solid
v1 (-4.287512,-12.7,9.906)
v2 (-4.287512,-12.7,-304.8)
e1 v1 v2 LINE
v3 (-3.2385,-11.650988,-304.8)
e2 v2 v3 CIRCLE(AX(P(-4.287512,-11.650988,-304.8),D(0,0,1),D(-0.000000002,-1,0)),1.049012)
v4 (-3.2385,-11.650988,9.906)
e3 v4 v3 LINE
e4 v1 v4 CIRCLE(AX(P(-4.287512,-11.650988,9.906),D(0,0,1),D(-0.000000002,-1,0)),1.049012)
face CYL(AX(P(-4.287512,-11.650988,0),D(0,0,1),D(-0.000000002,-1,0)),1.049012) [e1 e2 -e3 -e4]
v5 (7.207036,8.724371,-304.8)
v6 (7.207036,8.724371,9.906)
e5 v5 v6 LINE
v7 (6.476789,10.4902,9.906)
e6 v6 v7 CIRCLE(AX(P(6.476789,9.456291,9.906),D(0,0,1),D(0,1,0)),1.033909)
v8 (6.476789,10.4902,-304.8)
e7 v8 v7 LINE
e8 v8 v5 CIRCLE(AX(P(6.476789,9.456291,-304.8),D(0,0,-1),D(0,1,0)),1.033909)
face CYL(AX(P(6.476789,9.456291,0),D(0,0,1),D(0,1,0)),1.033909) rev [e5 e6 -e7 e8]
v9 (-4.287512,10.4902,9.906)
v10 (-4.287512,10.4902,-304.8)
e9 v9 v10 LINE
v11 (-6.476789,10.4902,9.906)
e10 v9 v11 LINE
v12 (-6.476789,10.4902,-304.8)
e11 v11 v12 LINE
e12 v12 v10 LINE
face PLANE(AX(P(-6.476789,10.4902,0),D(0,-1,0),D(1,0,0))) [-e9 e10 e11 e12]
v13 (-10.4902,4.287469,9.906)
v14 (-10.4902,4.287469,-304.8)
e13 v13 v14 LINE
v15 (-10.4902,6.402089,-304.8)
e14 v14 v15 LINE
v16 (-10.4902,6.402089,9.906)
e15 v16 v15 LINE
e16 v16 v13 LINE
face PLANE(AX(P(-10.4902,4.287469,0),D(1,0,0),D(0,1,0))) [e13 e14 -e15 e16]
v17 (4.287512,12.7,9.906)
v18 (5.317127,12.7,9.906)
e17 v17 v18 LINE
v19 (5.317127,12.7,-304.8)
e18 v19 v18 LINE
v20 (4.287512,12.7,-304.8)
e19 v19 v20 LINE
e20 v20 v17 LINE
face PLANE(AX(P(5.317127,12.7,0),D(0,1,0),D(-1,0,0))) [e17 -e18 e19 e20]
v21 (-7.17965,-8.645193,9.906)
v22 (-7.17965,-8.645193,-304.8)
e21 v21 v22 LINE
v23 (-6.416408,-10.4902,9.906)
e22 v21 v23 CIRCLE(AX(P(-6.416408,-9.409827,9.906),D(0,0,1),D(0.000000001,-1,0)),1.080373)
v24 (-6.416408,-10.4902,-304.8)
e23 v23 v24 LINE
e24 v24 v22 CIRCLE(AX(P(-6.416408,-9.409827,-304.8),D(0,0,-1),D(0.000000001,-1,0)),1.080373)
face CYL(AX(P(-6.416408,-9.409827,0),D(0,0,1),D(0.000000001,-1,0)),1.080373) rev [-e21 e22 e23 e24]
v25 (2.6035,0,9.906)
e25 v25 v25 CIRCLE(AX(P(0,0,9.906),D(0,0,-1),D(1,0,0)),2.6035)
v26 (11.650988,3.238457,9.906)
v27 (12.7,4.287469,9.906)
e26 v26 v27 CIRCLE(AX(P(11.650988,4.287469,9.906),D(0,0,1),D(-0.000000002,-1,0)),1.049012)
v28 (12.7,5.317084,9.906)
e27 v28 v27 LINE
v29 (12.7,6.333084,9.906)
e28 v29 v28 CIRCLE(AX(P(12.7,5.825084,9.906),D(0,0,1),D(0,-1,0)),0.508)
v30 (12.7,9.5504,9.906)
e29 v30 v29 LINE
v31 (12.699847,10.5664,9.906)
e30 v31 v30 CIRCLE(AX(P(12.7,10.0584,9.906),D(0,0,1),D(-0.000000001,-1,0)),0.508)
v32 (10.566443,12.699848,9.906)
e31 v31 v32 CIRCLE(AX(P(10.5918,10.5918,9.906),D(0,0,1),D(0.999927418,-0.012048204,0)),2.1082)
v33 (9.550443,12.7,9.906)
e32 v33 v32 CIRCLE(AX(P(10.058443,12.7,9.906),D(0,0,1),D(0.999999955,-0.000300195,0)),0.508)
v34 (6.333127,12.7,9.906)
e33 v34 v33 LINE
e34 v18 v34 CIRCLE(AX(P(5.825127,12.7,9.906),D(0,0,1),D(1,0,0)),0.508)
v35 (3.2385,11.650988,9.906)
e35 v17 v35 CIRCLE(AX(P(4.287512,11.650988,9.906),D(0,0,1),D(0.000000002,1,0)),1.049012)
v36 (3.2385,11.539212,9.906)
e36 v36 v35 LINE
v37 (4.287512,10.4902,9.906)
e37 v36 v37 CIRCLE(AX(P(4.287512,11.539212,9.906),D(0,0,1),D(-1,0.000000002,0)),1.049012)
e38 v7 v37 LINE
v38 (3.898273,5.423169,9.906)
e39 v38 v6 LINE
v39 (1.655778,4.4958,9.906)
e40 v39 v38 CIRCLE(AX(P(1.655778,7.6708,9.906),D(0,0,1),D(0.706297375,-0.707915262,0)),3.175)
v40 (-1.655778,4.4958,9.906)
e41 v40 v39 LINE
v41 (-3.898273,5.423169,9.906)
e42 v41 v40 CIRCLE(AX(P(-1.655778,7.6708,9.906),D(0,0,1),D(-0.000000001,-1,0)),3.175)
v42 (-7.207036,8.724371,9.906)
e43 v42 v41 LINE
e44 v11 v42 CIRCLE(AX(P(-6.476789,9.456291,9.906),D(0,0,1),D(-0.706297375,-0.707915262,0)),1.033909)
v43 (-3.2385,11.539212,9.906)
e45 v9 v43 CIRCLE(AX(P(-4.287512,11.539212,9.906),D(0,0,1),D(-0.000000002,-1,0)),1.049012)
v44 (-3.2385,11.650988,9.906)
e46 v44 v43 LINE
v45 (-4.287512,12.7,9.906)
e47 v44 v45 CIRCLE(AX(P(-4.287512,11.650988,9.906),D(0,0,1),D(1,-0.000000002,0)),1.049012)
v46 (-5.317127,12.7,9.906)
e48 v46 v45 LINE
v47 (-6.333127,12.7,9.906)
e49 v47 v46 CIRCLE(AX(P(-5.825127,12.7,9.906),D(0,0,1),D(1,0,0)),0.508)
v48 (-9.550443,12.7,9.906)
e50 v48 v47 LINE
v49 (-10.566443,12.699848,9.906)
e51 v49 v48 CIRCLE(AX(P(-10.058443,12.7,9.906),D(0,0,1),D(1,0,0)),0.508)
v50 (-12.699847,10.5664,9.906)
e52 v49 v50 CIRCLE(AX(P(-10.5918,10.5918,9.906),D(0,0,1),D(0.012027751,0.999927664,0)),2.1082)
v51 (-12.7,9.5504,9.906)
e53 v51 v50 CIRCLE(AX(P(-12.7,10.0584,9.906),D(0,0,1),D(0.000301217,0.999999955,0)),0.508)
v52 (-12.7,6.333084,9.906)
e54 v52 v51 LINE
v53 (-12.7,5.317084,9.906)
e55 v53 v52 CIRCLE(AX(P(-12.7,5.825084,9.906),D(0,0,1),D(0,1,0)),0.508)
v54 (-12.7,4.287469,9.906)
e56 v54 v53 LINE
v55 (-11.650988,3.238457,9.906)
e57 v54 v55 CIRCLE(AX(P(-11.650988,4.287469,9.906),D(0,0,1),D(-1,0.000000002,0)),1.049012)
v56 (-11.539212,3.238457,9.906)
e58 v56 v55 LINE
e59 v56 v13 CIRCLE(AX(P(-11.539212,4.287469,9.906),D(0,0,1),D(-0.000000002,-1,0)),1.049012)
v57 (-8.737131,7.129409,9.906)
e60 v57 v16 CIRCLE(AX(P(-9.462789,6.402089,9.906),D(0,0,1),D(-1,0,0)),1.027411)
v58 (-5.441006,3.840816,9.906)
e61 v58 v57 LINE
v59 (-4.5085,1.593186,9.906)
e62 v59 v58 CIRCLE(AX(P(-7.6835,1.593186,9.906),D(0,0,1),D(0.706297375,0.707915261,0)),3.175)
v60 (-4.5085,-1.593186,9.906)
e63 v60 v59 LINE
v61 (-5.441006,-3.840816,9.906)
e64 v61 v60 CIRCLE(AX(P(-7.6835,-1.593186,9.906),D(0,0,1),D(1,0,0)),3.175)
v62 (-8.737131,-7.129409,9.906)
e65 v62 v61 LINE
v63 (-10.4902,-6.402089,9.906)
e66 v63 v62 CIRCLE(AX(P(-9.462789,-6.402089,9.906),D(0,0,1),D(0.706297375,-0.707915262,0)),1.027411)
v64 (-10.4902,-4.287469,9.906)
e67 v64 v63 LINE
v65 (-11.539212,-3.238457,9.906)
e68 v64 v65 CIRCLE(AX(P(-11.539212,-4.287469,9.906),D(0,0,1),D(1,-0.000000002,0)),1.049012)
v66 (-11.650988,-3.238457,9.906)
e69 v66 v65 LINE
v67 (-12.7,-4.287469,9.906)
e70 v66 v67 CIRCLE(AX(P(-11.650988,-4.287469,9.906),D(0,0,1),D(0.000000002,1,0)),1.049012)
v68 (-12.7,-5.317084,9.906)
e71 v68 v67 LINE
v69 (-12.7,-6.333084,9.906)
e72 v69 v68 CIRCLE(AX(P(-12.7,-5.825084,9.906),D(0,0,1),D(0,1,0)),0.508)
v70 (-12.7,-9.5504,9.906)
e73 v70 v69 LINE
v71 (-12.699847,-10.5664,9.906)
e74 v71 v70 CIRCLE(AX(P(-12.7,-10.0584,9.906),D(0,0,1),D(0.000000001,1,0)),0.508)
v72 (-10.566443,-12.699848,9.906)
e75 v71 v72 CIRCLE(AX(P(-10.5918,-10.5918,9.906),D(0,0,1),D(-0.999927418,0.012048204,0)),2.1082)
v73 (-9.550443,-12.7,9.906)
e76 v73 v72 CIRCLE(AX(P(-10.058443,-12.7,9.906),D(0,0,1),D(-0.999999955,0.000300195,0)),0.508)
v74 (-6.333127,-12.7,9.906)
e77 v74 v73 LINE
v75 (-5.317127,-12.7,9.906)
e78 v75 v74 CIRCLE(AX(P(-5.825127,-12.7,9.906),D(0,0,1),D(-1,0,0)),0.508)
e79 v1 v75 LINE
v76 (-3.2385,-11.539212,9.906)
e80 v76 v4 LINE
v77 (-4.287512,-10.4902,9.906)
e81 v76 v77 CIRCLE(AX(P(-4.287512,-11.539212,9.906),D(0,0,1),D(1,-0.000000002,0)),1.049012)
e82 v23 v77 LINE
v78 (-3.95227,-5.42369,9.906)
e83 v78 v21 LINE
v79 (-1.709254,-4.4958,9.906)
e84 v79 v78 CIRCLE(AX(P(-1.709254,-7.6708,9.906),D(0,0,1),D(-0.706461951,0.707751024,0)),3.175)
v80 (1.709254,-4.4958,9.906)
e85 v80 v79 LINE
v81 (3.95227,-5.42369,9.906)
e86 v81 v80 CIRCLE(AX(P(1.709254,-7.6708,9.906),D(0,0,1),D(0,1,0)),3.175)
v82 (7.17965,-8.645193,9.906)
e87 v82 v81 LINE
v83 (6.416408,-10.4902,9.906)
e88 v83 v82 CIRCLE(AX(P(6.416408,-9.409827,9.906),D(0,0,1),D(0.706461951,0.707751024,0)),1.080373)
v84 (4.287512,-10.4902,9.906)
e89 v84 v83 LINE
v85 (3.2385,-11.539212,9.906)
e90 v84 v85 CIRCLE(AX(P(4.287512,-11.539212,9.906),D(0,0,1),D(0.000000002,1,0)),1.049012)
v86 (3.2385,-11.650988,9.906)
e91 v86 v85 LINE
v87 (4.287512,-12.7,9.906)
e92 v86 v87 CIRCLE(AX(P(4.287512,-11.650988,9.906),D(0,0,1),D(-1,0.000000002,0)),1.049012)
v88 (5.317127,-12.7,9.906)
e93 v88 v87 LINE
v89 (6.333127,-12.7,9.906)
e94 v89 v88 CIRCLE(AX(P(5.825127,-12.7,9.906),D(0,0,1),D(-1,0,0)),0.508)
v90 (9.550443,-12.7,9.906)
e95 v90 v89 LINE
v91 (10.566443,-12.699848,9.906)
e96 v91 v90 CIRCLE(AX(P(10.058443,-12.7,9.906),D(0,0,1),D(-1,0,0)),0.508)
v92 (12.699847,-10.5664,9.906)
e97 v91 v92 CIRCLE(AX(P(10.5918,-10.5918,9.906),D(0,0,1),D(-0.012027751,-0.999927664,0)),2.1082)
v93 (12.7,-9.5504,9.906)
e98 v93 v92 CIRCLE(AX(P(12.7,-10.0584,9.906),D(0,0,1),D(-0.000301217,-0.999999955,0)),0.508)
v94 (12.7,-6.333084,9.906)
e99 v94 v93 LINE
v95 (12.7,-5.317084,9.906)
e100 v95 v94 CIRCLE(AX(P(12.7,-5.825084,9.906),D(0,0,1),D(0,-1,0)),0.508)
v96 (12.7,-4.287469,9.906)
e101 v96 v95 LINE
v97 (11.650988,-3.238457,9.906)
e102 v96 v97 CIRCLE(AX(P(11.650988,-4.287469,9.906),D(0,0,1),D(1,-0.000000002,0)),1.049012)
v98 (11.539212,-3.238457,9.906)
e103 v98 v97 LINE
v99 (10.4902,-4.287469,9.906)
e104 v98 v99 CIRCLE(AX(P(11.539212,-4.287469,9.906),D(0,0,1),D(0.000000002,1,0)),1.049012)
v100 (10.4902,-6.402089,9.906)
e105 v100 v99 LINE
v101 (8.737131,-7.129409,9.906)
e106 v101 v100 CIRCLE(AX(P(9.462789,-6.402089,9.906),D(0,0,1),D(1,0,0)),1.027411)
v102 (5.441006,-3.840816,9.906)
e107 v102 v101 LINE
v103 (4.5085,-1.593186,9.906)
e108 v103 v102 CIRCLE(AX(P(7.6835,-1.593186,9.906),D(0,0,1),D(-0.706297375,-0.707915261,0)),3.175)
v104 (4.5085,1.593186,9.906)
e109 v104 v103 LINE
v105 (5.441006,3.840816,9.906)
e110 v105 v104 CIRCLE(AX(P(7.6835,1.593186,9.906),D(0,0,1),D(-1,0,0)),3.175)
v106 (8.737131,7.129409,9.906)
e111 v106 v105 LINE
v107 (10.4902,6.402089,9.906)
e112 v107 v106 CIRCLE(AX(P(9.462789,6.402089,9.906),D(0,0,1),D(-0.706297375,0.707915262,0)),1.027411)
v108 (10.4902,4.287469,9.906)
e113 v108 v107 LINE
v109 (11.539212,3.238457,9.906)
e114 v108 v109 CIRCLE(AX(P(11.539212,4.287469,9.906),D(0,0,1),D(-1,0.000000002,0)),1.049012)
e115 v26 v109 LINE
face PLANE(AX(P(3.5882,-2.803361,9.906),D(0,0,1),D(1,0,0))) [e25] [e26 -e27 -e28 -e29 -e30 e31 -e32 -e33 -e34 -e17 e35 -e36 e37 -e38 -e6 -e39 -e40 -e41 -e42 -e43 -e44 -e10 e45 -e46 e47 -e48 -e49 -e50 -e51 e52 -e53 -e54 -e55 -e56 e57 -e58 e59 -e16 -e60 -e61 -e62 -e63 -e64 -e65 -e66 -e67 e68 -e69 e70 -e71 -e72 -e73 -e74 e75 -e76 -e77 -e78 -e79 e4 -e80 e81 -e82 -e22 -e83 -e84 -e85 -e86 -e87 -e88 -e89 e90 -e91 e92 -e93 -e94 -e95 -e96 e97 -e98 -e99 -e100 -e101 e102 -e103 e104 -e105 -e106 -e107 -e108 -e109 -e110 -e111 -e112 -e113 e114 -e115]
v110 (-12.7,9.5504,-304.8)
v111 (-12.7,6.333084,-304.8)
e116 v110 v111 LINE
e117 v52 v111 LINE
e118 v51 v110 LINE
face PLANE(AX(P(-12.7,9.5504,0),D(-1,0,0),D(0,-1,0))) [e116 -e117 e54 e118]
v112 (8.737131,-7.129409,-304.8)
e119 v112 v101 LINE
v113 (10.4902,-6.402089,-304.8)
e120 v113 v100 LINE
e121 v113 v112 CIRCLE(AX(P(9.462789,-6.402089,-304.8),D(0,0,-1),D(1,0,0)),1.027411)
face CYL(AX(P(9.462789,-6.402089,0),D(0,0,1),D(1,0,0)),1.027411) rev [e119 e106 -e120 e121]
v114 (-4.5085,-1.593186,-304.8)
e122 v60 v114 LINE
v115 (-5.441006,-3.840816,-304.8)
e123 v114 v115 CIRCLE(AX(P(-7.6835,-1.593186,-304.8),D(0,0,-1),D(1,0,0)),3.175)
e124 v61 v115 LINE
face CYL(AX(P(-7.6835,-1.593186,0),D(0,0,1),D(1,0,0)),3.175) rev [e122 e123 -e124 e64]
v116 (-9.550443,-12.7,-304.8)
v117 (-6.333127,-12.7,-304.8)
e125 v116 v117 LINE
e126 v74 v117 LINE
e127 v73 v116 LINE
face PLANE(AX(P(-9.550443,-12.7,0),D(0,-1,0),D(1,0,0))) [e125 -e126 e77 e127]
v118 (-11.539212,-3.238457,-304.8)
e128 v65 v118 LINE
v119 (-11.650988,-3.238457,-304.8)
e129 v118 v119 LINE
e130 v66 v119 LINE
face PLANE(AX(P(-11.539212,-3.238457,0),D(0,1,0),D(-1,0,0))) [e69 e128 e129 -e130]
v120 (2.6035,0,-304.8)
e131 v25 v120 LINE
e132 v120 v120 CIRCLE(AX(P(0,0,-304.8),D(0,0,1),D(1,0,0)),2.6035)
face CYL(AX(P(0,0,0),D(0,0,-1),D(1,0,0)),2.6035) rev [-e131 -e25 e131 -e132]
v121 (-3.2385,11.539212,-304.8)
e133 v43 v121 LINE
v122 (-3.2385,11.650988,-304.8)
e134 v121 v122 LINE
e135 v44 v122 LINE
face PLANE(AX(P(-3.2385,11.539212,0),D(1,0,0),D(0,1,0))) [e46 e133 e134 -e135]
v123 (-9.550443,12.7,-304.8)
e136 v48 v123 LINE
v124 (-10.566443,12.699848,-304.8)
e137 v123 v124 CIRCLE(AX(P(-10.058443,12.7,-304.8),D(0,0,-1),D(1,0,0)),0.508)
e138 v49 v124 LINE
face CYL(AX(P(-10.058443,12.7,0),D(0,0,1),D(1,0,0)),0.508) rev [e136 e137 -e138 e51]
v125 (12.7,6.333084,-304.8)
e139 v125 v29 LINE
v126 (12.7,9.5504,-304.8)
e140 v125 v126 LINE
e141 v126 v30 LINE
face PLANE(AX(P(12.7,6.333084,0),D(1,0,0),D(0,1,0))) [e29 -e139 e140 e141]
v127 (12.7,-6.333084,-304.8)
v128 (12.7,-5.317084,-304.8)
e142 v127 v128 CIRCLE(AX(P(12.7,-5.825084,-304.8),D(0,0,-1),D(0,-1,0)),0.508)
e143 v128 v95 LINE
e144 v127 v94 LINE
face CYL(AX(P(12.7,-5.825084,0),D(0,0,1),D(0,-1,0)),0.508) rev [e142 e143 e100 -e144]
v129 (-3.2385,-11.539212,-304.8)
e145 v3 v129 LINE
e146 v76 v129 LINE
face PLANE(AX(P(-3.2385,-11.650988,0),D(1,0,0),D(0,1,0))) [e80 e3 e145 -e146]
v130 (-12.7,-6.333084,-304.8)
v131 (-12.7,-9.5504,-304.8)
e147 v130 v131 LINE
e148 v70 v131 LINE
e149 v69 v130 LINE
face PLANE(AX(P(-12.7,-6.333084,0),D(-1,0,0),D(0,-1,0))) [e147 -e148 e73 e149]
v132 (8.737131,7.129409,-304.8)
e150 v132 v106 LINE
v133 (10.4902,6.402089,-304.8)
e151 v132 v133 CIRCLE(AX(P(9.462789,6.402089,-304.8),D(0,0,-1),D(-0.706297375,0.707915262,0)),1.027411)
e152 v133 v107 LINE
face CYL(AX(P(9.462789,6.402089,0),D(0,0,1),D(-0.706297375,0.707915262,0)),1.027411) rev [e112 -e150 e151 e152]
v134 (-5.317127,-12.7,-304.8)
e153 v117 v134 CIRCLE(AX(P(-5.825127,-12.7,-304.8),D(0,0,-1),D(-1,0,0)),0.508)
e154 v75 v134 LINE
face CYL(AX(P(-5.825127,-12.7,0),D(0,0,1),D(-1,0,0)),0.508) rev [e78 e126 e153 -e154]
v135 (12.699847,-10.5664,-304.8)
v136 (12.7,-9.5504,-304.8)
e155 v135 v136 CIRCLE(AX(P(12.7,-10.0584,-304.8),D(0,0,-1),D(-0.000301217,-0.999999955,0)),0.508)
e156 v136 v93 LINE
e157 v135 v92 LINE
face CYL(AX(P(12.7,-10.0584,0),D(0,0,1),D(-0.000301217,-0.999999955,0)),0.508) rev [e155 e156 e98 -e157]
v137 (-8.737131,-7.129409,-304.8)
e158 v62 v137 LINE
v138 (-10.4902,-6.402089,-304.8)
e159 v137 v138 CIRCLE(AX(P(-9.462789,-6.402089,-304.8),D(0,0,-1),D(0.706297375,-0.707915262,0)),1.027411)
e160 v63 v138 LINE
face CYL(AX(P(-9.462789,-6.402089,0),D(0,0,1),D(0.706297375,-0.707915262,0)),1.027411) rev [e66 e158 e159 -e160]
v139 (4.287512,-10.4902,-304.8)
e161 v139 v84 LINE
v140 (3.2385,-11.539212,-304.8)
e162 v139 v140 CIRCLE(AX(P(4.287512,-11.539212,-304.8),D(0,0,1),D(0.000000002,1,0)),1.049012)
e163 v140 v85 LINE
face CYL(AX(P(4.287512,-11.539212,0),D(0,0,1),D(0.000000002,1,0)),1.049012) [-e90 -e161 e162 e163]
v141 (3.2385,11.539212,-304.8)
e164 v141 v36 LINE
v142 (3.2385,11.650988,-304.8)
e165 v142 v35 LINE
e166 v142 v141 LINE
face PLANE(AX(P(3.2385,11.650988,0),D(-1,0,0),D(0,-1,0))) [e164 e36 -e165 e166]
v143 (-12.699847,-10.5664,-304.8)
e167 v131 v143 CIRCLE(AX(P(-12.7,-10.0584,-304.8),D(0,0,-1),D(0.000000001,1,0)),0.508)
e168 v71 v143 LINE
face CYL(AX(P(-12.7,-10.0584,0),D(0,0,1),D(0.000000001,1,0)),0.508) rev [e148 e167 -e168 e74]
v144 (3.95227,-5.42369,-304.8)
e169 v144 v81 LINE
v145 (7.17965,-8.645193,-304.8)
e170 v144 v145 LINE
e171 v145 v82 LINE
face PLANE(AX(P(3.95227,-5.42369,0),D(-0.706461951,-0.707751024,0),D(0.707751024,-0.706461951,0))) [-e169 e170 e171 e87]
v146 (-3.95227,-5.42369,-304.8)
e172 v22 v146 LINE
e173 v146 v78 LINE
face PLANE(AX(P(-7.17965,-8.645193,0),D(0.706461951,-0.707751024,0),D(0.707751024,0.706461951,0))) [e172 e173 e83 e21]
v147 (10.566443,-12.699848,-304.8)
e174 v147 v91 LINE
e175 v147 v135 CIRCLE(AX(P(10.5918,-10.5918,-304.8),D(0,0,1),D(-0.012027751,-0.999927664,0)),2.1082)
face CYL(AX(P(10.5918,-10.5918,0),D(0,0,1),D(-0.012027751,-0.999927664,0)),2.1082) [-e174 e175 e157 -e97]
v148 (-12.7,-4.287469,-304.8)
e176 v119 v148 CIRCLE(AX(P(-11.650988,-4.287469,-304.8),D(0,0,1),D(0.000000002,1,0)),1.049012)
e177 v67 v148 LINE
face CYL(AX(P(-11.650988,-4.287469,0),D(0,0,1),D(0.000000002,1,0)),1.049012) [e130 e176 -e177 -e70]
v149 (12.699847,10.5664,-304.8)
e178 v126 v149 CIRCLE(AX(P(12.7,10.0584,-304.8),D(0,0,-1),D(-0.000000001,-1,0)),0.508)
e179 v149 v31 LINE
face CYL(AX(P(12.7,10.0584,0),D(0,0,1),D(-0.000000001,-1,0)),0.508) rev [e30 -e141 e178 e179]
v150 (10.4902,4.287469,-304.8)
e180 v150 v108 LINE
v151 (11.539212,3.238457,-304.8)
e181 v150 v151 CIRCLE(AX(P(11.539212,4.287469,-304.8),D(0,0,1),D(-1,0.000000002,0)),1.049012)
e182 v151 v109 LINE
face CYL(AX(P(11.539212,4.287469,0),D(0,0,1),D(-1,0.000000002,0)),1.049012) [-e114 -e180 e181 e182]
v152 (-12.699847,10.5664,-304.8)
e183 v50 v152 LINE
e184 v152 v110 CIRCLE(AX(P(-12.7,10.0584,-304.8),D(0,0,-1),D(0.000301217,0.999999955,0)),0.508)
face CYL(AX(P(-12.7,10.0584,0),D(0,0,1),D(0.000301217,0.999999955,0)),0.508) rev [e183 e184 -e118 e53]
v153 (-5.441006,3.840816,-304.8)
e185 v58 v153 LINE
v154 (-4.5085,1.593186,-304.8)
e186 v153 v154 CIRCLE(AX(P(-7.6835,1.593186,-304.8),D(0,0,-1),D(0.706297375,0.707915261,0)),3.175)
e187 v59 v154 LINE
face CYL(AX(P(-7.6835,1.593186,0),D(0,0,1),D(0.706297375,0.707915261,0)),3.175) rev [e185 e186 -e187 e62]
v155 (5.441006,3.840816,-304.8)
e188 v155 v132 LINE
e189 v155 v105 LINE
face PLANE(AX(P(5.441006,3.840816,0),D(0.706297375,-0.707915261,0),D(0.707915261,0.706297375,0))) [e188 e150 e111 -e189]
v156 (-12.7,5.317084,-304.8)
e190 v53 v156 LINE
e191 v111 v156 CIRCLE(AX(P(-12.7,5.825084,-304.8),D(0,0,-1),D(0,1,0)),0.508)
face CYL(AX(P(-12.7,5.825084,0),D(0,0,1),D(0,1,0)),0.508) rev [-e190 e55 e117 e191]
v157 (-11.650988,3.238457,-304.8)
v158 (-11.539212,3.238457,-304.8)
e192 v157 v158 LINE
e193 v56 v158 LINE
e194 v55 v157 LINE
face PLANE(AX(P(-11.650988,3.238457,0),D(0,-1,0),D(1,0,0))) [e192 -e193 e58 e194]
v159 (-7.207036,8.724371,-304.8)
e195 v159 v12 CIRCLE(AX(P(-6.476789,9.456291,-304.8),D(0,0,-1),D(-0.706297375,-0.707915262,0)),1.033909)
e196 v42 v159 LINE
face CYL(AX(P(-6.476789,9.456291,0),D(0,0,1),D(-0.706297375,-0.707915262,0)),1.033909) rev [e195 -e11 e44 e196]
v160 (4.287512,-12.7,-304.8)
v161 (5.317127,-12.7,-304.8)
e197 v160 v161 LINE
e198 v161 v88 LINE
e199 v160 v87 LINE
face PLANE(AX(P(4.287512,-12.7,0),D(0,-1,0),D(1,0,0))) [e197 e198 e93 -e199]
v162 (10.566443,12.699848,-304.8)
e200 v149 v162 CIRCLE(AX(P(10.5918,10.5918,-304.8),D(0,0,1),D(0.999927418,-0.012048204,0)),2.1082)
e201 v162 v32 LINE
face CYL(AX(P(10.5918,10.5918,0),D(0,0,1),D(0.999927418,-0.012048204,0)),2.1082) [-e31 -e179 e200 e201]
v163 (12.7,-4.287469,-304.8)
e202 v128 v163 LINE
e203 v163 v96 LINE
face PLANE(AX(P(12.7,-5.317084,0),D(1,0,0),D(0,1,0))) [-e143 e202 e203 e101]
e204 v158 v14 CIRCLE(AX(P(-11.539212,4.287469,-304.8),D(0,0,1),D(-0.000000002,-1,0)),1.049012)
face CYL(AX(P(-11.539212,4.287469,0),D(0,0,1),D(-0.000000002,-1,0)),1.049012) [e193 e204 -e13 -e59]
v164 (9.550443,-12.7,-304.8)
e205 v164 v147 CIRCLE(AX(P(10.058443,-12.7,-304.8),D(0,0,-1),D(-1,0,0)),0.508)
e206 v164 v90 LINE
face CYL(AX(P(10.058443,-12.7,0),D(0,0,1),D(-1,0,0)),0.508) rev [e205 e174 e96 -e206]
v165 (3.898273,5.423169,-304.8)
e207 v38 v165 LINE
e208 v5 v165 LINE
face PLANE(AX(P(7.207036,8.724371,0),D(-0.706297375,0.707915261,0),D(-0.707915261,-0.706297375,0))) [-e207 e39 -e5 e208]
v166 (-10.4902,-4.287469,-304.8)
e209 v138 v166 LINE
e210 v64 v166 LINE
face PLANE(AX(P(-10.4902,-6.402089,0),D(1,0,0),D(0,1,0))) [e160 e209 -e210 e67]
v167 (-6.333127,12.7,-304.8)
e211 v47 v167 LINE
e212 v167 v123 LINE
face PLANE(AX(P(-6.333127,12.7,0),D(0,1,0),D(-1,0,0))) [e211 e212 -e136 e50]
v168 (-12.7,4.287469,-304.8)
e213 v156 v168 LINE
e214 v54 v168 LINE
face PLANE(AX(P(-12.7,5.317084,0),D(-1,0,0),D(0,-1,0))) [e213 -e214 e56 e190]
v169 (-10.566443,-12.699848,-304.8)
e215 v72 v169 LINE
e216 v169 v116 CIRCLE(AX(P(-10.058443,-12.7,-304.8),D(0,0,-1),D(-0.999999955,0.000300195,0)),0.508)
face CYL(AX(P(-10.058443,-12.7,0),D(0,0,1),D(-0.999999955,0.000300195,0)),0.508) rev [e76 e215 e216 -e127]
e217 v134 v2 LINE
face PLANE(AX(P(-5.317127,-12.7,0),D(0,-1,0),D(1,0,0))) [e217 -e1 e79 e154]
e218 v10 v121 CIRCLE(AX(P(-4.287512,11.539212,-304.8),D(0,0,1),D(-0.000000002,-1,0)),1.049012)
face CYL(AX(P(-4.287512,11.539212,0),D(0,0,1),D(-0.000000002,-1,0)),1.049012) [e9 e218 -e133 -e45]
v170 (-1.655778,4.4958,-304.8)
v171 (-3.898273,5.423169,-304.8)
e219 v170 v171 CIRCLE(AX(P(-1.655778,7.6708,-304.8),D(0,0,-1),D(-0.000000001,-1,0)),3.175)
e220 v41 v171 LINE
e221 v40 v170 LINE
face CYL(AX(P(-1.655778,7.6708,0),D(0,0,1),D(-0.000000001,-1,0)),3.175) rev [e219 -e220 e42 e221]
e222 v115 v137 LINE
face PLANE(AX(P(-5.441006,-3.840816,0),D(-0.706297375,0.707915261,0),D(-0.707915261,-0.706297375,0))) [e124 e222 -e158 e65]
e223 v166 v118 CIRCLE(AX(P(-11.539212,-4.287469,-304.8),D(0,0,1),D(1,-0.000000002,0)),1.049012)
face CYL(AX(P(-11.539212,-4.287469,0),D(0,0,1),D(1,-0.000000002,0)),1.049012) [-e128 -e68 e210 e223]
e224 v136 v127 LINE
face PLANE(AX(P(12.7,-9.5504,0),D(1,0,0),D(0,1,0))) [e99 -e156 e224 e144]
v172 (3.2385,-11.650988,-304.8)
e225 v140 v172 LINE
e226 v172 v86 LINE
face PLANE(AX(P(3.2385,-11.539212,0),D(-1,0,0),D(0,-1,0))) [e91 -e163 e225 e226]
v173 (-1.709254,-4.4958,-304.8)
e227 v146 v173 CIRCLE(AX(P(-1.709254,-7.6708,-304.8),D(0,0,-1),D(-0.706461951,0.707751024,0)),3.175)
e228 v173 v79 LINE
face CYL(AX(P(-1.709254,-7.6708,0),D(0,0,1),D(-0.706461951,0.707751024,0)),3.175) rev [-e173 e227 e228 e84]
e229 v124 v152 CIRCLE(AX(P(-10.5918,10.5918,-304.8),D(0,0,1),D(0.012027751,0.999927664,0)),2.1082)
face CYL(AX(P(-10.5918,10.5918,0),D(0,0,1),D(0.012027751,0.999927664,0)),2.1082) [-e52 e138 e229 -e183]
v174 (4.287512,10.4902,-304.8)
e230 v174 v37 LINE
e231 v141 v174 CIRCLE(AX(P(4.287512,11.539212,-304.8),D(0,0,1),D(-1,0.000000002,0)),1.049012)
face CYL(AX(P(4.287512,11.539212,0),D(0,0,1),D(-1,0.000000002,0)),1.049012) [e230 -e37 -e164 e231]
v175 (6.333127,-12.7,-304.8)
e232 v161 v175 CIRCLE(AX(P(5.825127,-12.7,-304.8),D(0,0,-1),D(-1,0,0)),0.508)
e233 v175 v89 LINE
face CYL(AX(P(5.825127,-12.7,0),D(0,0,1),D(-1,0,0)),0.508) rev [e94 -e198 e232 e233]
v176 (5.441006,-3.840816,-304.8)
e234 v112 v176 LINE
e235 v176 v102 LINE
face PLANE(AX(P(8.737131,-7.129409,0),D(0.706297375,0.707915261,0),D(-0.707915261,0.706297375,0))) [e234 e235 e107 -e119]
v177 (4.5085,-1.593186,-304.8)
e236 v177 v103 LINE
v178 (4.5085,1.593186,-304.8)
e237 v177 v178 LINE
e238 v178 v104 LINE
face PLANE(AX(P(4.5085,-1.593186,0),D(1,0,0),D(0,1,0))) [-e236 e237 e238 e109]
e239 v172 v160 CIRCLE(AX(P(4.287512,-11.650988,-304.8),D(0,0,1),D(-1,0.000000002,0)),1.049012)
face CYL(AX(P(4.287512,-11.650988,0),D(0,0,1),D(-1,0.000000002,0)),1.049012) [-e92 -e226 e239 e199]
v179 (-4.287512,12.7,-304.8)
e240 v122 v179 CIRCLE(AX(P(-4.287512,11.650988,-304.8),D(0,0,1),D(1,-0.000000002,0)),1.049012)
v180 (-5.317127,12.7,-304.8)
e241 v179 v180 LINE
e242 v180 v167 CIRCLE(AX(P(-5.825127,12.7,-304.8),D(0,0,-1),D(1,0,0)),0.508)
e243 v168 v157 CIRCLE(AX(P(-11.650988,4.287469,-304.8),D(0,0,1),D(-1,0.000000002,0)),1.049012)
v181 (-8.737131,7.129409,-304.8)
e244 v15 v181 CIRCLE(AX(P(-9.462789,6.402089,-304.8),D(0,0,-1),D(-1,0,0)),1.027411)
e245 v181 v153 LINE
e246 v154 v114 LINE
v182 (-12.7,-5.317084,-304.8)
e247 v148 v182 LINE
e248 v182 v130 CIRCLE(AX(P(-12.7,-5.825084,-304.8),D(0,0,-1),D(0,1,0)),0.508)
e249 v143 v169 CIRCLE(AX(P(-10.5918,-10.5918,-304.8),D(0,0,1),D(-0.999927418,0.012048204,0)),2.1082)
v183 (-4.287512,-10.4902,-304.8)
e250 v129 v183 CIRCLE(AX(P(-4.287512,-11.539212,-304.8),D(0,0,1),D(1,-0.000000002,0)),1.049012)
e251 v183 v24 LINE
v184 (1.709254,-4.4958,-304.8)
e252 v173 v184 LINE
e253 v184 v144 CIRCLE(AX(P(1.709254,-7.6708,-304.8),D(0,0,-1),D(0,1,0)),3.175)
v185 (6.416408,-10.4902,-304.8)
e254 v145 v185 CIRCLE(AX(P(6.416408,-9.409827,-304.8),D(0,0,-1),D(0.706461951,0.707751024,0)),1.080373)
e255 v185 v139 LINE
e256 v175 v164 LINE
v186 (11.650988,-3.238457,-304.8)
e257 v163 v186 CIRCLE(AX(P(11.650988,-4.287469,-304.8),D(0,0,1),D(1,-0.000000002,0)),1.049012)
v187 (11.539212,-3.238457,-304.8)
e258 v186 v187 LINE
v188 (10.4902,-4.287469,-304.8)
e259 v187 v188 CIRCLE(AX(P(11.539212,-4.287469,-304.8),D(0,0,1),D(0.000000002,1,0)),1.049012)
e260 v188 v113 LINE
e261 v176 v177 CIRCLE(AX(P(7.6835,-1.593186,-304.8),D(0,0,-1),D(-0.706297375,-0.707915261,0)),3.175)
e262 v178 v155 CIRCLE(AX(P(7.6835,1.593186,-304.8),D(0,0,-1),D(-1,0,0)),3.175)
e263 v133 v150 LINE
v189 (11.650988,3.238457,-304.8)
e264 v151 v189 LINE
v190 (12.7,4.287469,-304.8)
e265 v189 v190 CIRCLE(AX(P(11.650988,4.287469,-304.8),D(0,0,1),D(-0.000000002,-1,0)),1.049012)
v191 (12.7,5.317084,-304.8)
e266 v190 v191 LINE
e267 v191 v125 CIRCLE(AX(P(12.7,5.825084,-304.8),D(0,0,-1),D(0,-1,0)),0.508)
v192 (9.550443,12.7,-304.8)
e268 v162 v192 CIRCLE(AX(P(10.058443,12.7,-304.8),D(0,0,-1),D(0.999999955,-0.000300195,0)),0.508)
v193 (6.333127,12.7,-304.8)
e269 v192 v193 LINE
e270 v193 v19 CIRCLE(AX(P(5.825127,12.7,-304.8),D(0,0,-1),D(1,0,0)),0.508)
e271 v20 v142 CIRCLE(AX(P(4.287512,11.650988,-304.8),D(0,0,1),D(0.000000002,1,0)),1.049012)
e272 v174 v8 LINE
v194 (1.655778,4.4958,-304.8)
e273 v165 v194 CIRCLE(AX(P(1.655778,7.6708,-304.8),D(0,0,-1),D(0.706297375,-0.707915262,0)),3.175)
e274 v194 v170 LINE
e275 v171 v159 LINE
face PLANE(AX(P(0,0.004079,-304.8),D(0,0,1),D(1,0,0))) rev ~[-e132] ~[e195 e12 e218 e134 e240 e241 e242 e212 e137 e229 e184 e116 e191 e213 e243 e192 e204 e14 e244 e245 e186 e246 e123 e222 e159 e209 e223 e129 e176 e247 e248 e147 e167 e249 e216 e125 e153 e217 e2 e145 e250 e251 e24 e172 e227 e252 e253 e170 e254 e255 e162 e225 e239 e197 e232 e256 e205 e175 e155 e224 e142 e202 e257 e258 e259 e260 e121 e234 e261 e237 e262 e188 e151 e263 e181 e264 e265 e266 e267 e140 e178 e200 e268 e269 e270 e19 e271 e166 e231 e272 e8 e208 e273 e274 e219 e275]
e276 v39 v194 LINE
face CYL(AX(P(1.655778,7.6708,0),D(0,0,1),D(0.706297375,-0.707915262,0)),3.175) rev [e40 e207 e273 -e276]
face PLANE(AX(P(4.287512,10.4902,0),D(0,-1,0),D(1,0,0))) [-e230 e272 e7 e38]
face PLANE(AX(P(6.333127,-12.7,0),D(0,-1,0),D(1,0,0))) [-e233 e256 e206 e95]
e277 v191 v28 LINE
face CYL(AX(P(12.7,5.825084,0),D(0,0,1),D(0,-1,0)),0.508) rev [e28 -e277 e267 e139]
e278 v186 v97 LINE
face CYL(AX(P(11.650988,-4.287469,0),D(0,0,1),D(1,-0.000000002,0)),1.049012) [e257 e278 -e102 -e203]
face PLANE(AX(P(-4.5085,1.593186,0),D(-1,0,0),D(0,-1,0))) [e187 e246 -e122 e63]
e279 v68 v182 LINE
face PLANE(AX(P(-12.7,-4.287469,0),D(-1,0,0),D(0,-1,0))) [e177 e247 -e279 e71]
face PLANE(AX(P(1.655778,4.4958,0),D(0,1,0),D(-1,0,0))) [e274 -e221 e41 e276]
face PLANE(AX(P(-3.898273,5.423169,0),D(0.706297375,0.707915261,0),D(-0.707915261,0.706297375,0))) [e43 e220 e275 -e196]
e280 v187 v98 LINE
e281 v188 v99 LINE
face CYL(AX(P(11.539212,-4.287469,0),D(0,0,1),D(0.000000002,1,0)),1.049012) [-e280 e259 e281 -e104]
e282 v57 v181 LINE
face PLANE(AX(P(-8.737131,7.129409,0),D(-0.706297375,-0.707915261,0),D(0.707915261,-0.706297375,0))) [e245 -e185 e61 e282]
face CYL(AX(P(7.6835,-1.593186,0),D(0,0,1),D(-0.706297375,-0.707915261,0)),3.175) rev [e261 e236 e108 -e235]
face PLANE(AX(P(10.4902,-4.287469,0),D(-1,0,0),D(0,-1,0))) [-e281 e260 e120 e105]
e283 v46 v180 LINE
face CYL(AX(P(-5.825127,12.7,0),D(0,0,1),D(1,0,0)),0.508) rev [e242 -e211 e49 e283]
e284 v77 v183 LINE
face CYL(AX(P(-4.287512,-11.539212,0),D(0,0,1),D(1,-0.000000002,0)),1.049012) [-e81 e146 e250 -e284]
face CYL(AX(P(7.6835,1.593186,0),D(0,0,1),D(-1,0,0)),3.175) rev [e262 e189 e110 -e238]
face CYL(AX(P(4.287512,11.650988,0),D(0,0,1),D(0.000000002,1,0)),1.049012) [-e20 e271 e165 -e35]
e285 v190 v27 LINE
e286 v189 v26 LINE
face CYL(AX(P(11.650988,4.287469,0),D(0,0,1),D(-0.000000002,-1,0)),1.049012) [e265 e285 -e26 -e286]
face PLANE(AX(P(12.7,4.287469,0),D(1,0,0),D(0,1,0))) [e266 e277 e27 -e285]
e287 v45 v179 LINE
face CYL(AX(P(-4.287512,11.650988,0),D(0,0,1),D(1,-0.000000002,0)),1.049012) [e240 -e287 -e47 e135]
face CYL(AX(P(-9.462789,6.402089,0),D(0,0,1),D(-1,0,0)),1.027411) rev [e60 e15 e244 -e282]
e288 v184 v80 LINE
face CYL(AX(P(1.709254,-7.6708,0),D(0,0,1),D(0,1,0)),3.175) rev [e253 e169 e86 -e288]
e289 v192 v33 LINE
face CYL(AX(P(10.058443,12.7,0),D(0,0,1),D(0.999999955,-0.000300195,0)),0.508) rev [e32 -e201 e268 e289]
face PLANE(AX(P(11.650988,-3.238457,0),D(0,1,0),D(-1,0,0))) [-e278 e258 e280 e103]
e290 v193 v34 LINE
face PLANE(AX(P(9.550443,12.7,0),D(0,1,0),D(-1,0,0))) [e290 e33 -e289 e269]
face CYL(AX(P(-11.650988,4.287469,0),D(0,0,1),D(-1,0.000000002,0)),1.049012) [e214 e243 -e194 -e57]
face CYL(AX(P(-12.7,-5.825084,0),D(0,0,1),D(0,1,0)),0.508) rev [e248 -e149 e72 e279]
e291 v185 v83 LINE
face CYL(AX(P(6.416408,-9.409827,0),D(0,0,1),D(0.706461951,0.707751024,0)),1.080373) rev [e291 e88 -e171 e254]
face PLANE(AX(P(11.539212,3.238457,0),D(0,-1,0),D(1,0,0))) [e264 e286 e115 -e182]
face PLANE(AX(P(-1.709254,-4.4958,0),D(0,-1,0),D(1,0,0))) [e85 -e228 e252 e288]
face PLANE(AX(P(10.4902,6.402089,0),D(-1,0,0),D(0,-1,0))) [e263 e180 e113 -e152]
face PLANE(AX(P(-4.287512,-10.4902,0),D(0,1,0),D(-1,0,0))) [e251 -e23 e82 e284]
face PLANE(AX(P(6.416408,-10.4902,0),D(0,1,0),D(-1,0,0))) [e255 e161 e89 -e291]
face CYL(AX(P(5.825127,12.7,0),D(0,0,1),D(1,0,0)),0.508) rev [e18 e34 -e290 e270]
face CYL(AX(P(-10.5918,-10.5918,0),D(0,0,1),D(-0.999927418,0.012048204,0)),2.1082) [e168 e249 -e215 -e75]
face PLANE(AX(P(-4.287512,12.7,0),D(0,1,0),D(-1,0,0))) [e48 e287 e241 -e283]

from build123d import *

# Parameters (mm, degrees)
SKETCH1_R           = 2.6035
BOSS_EXTRUDE1_DEPTH = 304.8
SKETCH2_W           = 54.534078776
SKETCH2_H           = 52.309705205
CUT_EXTRUDE1_DEPTH  = 294.894


with BuildPart() as part:
    # Sketch1 → Boss-Extrude1 (new body, symmetric)
    with BuildSketch(Plane.XY):
        with BuildLine():
            Line((-7.179650497, -8.645192506), (-3.952270251, -5.423690499))
            ThreePointArc((-3.952270251, -5.423690499), (-2.922936451, -4.736929036), (-1.709253557, -4.4958))
            Line((-1.709253557, -4.4958), (1.709253557, -4.4958))
            ThreePointArc((1.709253557, -4.4958), (2.922936451, -4.736929036), (3.952270251, -5.423690499))
            Line((3.952270251, -5.423690499), (7.179650497, -8.645192506))
            ThreePointArc((7.179650497, -8.645192506), (7.41473083, -9.822813117), (6.416408329, -10.4902))
            Line((6.416408329, -10.4902), (4.287512407, -10.4902))
            ThreePointArc((4.287512407, -10.4902), (3.54574862, -10.79744862), (3.2385, -11.539212407))
            Line((3.2385, -11.539212407), (3.2385, -11.650987593))
            ThreePointArc((3.2385, -11.650987593), (3.54574862, -12.39275138), (4.287512407, -12.7))
            Line((4.287512407, -12.7), (5.317126718, -12.7))
            ThreePointArc((5.317126718, -12.7), (5.825126718, -12.192), (6.333126718, -12.7))
            Line((6.333126718, -12.7), (9.550443118, -12.7))
            ThreePointArc((9.550443118, -12.7), (10.058366869, -12.192000006), (10.566443095, -12.699847501))
            ThreePointArc((10.566443095, -12.699847501), (12.082537762, -12.08250727), (12.699846982, -10.566399977))
            ThreePointArc((12.699846982, -10.566399977), (12.192000006, -10.058323491), (12.7, -9.5504))
            Line((12.7, -9.5504), (12.7, -6.3330836))
            ThreePointArc((12.7, -6.3330836), (12.192, -5.8250836), (12.7, -5.3170836))
            Line((12.7, -5.3170836), (12.7, -4.287469289))
            ThreePointArc((12.7, -4.287469289), (12.39275138, -3.545705502), (11.650987593, -3.238456882))
            Line((11.650987593, -3.238456882), (11.539212407, -3.238456882))
            ThreePointArc((11.539212407, -3.238456882), (10.79744862, -3.545705502), (10.4902, -4.287469289))
            Line((10.4902, -4.287469289), (10.4902, -6.402089023))
            ThreePointArc((10.4902, -6.402089023), (9.856505071, -7.351067942), (8.737131347, -7.129408934))
            Line((8.737131347, -7.129408934), (5.441005833, -3.840816462))
            ThreePointArc((5.441005833, -3.840816462), (4.750877967, -2.809883091), (4.5085, -1.593185507))
            Line((4.5085, -1.593185507), (4.5085, 1.593185507))
            ThreePointArc((4.5085, 1.593185507), (4.750877967, 2.809883091), (5.441005833, 3.840816462))
            Line((5.441005833, 3.840816462), (8.737131347, 7.129408934))
            ThreePointArc((8.737131347, 7.129408934), (9.856505071, 7.351067942), (10.4902, 6.402089023))
            Line((10.4902, 6.402089023), (10.4902, 4.287469289))
            ThreePointArc((10.4902, 4.287469289), (10.79744862, 3.545705502), (11.539212407, 3.238456882))
            Line((11.539212407, 3.238456882), (11.650987593, 3.238456882))
            ThreePointArc((11.650987593, 3.238456882), (12.39275138, 3.545705502), (12.7, 4.287469289))
            Line((12.7, 4.287469289), (12.7, 5.3170836))
            ThreePointArc((12.7, 5.3170836), (12.192, 5.8250836), (12.7, 6.3330836))
            Line((12.7, 6.3330836), (12.7, 9.5504))
            ThreePointArc((12.7, 9.5504), (12.192000006, 10.058323491), (12.699846982, 10.566399977))
            ThreePointArc((12.699846982, 10.566399977), (12.082537762, 12.08250727), (10.566443095, 12.699847501))
            ThreePointArc((10.566443095, 12.699847501), (10.058366869, 12.192000006), (9.550443118, 12.7))
            Line((9.550443118, 12.7), (6.333126718, 12.7))
            ThreePointArc((6.333126718, 12.7), (5.825126718, 12.192), (5.317126718, 12.7))
            Line((5.317126718, 12.7), (4.287512407, 12.7))
            ThreePointArc((4.287512407, 12.7), (3.54574862, 12.39275138), (3.2385, 11.650987593))
            Line((3.2385, 11.650987593), (3.2385, 11.539212407))
            ThreePointArc((3.2385, 11.539212407), (3.54574862, 10.79744862), (4.287512407, 10.4902))
            Line((4.287512407, 10.4902), (6.476788598, 10.4902))
            ThreePointArc((6.476788598, 10.4902), (7.432222385, 9.85140422), (7.207036008, 8.724370562))
            Line((7.207036008, 8.724370562), (3.898272566, 5.423169045))
            ThreePointArc((3.898272566, 5.423169045), (2.869120213, 4.736787962), (1.655778399, 4.4958))
            Line((1.655778399, 4.4958), (-1.655778399, 4.4958))
            ThreePointArc((-1.655778399, 4.4958), (-2.869120213, 4.736787962), (-3.898272566, 5.423169045))
            Line((-3.898272566, 5.423169045), (-7.207036008, 8.724370562))
            ThreePointArc((-7.207036008, 8.724370562), (-7.432222385, 9.85140422), (-6.476788598, 10.4902))
            Line((-6.476788598, 10.4902), (-4.287512407, 10.4902))
            ThreePointArc((-4.287512407, 10.4902), (-3.54574862, 10.79744862), (-3.2385, 11.539212407))
            Line((-3.2385, 11.539212407), (-3.2385, 11.650987593))
            ThreePointArc((-3.2385, 11.650987593), (-3.54574862, 12.39275138), (-4.287512407, 12.7))
            Line((-4.287512407, 12.7), (-5.317126718, 12.7))
            ThreePointArc((-5.317126718, 12.7), (-5.825126718, 12.192), (-6.333126718, 12.7))
            Line((-6.333126718, 12.7), (-9.550443118, 12.7))
            ThreePointArc((-9.550443118, 12.7), (-10.058366869, 12.192000006), (-10.566443095, 12.699847501))
            ThreePointArc((-10.566443095, 12.699847501), (-12.082537762, 12.08250727), (-12.699846982, 10.566399977))
            ThreePointArc((-12.699846982, 10.566399977), (-12.192000006, 10.058323491), (-12.7, 9.5504))
            Line((-12.7, 9.5504), (-12.7, 6.3330836))
            ThreePointArc((-12.7, 6.3330836), (-12.192, 5.8250836), (-12.7, 5.3170836))
            Line((-12.7, 5.3170836), (-12.7, 4.287469289))
            ThreePointArc((-12.7, 4.287469289), (-12.39275138, 3.545705502), (-11.650987593, 3.238456882))
            Line((-11.650987593, 3.238456882), (-11.539212407, 3.238456882))
            ThreePointArc((-11.539212407, 3.238456882), (-10.79744862, 3.545705502), (-10.4902, 4.287469289))
            Line((-10.4902, 4.287469289), (-10.4902, 6.402089023))
            ThreePointArc((-10.4902, 6.402089023), (-9.856505071, 7.351067942), (-8.737131347, 7.129408934))
            Line((-8.737131347, 7.129408934), (-5.441005833, 3.840816462))
            ThreePointArc((-5.441005833, 3.840816462), (-4.750877967, 2.809883091), (-4.5085, 1.593185507))
            Line((-4.5085, 1.593185507), (-4.5085, -1.593185507))
            ThreePointArc((-4.5085, -1.593185507), (-4.750877967, -2.809883091), (-5.441005833, -3.840816462))
            Line((-5.441005833, -3.840816462), (-8.737131347, -7.129408934))
            ThreePointArc((-8.737131347, -7.129408934), (-9.856505071, -7.351067942), (-10.4902, -6.402089023))
            Line((-10.4902, -6.402089023), (-10.4902, -4.287469289))
            ThreePointArc((-10.4902, -4.287469289), (-10.79744862, -3.545705502), (-11.539212407, -3.238456882))
            Line((-11.539212407, -3.238456882), (-11.650987593, -3.238456882))
            ThreePointArc((-11.650987593, -3.238456882), (-12.39275138, -3.545705502), (-12.7, -4.287469289))
            Line((-12.7, -4.287469289), (-12.7, -5.3170836))
            ThreePointArc((-12.7, -5.3170836), (-12.192, -5.8250836), (-12.7, -6.3330836))
            Line((-12.7, -6.3330836), (-12.7, -9.5504))
            ThreePointArc((-12.7, -9.5504), (-12.192000006, -10.058323491), (-12.699846982, -10.566399977))
            ThreePointArc((-12.699846982, -10.566399977), (-12.082537762, -12.08250727), (-10.566443095, -12.699847501))
            ThreePointArc((-10.566443095, -12.699847501), (-10.058366869, -12.192000006), (-9.550443118, -12.7))
            Line((-9.550443118, -12.7), (-6.333126718, -12.7))
            ThreePointArc((-6.333126718, -12.7), (-5.825126718, -12.192), (-5.317126718, -12.7))
            Line((-5.317126718, -12.7), (-4.287512407, -12.7))
            ThreePointArc((-4.287512407, -12.7), (-3.54574862, -12.39275138), (-3.2385, -11.650987593))
            Line((-3.2385, -11.650987593), (-3.2385, -11.539212407))
            ThreePointArc((-3.2385, -11.539212407), (-3.54574862, -10.79744862), (-4.287512407, -10.4902))
            Line((-4.287512407, -10.4902), (-6.416408329, -10.4902))
            ThreePointArc((-6.416408329, -10.4902), (-7.41473083, -9.822813117), (-7.179650497, -8.645192506))
        make_face()
        Circle(SKETCH1_R, mode=Mode.SUBTRACT)
    extrude(amount=BOSS_EXTRUDE1_DEPTH, both=True)

    # Sketch2 → Cut-Extrude1 (cut)
    with BuildSketch(Plane.XY.offset(304.8)):
        with Locations((3.588199908, -2.803361197)):
            Rectangle(SKETCH2_W, SKETCH2_H)
    extrude(amount=-CUT_EXTRUDE1_DEPTH, mode=Mode.SUBTRACT)


solid = part.part
